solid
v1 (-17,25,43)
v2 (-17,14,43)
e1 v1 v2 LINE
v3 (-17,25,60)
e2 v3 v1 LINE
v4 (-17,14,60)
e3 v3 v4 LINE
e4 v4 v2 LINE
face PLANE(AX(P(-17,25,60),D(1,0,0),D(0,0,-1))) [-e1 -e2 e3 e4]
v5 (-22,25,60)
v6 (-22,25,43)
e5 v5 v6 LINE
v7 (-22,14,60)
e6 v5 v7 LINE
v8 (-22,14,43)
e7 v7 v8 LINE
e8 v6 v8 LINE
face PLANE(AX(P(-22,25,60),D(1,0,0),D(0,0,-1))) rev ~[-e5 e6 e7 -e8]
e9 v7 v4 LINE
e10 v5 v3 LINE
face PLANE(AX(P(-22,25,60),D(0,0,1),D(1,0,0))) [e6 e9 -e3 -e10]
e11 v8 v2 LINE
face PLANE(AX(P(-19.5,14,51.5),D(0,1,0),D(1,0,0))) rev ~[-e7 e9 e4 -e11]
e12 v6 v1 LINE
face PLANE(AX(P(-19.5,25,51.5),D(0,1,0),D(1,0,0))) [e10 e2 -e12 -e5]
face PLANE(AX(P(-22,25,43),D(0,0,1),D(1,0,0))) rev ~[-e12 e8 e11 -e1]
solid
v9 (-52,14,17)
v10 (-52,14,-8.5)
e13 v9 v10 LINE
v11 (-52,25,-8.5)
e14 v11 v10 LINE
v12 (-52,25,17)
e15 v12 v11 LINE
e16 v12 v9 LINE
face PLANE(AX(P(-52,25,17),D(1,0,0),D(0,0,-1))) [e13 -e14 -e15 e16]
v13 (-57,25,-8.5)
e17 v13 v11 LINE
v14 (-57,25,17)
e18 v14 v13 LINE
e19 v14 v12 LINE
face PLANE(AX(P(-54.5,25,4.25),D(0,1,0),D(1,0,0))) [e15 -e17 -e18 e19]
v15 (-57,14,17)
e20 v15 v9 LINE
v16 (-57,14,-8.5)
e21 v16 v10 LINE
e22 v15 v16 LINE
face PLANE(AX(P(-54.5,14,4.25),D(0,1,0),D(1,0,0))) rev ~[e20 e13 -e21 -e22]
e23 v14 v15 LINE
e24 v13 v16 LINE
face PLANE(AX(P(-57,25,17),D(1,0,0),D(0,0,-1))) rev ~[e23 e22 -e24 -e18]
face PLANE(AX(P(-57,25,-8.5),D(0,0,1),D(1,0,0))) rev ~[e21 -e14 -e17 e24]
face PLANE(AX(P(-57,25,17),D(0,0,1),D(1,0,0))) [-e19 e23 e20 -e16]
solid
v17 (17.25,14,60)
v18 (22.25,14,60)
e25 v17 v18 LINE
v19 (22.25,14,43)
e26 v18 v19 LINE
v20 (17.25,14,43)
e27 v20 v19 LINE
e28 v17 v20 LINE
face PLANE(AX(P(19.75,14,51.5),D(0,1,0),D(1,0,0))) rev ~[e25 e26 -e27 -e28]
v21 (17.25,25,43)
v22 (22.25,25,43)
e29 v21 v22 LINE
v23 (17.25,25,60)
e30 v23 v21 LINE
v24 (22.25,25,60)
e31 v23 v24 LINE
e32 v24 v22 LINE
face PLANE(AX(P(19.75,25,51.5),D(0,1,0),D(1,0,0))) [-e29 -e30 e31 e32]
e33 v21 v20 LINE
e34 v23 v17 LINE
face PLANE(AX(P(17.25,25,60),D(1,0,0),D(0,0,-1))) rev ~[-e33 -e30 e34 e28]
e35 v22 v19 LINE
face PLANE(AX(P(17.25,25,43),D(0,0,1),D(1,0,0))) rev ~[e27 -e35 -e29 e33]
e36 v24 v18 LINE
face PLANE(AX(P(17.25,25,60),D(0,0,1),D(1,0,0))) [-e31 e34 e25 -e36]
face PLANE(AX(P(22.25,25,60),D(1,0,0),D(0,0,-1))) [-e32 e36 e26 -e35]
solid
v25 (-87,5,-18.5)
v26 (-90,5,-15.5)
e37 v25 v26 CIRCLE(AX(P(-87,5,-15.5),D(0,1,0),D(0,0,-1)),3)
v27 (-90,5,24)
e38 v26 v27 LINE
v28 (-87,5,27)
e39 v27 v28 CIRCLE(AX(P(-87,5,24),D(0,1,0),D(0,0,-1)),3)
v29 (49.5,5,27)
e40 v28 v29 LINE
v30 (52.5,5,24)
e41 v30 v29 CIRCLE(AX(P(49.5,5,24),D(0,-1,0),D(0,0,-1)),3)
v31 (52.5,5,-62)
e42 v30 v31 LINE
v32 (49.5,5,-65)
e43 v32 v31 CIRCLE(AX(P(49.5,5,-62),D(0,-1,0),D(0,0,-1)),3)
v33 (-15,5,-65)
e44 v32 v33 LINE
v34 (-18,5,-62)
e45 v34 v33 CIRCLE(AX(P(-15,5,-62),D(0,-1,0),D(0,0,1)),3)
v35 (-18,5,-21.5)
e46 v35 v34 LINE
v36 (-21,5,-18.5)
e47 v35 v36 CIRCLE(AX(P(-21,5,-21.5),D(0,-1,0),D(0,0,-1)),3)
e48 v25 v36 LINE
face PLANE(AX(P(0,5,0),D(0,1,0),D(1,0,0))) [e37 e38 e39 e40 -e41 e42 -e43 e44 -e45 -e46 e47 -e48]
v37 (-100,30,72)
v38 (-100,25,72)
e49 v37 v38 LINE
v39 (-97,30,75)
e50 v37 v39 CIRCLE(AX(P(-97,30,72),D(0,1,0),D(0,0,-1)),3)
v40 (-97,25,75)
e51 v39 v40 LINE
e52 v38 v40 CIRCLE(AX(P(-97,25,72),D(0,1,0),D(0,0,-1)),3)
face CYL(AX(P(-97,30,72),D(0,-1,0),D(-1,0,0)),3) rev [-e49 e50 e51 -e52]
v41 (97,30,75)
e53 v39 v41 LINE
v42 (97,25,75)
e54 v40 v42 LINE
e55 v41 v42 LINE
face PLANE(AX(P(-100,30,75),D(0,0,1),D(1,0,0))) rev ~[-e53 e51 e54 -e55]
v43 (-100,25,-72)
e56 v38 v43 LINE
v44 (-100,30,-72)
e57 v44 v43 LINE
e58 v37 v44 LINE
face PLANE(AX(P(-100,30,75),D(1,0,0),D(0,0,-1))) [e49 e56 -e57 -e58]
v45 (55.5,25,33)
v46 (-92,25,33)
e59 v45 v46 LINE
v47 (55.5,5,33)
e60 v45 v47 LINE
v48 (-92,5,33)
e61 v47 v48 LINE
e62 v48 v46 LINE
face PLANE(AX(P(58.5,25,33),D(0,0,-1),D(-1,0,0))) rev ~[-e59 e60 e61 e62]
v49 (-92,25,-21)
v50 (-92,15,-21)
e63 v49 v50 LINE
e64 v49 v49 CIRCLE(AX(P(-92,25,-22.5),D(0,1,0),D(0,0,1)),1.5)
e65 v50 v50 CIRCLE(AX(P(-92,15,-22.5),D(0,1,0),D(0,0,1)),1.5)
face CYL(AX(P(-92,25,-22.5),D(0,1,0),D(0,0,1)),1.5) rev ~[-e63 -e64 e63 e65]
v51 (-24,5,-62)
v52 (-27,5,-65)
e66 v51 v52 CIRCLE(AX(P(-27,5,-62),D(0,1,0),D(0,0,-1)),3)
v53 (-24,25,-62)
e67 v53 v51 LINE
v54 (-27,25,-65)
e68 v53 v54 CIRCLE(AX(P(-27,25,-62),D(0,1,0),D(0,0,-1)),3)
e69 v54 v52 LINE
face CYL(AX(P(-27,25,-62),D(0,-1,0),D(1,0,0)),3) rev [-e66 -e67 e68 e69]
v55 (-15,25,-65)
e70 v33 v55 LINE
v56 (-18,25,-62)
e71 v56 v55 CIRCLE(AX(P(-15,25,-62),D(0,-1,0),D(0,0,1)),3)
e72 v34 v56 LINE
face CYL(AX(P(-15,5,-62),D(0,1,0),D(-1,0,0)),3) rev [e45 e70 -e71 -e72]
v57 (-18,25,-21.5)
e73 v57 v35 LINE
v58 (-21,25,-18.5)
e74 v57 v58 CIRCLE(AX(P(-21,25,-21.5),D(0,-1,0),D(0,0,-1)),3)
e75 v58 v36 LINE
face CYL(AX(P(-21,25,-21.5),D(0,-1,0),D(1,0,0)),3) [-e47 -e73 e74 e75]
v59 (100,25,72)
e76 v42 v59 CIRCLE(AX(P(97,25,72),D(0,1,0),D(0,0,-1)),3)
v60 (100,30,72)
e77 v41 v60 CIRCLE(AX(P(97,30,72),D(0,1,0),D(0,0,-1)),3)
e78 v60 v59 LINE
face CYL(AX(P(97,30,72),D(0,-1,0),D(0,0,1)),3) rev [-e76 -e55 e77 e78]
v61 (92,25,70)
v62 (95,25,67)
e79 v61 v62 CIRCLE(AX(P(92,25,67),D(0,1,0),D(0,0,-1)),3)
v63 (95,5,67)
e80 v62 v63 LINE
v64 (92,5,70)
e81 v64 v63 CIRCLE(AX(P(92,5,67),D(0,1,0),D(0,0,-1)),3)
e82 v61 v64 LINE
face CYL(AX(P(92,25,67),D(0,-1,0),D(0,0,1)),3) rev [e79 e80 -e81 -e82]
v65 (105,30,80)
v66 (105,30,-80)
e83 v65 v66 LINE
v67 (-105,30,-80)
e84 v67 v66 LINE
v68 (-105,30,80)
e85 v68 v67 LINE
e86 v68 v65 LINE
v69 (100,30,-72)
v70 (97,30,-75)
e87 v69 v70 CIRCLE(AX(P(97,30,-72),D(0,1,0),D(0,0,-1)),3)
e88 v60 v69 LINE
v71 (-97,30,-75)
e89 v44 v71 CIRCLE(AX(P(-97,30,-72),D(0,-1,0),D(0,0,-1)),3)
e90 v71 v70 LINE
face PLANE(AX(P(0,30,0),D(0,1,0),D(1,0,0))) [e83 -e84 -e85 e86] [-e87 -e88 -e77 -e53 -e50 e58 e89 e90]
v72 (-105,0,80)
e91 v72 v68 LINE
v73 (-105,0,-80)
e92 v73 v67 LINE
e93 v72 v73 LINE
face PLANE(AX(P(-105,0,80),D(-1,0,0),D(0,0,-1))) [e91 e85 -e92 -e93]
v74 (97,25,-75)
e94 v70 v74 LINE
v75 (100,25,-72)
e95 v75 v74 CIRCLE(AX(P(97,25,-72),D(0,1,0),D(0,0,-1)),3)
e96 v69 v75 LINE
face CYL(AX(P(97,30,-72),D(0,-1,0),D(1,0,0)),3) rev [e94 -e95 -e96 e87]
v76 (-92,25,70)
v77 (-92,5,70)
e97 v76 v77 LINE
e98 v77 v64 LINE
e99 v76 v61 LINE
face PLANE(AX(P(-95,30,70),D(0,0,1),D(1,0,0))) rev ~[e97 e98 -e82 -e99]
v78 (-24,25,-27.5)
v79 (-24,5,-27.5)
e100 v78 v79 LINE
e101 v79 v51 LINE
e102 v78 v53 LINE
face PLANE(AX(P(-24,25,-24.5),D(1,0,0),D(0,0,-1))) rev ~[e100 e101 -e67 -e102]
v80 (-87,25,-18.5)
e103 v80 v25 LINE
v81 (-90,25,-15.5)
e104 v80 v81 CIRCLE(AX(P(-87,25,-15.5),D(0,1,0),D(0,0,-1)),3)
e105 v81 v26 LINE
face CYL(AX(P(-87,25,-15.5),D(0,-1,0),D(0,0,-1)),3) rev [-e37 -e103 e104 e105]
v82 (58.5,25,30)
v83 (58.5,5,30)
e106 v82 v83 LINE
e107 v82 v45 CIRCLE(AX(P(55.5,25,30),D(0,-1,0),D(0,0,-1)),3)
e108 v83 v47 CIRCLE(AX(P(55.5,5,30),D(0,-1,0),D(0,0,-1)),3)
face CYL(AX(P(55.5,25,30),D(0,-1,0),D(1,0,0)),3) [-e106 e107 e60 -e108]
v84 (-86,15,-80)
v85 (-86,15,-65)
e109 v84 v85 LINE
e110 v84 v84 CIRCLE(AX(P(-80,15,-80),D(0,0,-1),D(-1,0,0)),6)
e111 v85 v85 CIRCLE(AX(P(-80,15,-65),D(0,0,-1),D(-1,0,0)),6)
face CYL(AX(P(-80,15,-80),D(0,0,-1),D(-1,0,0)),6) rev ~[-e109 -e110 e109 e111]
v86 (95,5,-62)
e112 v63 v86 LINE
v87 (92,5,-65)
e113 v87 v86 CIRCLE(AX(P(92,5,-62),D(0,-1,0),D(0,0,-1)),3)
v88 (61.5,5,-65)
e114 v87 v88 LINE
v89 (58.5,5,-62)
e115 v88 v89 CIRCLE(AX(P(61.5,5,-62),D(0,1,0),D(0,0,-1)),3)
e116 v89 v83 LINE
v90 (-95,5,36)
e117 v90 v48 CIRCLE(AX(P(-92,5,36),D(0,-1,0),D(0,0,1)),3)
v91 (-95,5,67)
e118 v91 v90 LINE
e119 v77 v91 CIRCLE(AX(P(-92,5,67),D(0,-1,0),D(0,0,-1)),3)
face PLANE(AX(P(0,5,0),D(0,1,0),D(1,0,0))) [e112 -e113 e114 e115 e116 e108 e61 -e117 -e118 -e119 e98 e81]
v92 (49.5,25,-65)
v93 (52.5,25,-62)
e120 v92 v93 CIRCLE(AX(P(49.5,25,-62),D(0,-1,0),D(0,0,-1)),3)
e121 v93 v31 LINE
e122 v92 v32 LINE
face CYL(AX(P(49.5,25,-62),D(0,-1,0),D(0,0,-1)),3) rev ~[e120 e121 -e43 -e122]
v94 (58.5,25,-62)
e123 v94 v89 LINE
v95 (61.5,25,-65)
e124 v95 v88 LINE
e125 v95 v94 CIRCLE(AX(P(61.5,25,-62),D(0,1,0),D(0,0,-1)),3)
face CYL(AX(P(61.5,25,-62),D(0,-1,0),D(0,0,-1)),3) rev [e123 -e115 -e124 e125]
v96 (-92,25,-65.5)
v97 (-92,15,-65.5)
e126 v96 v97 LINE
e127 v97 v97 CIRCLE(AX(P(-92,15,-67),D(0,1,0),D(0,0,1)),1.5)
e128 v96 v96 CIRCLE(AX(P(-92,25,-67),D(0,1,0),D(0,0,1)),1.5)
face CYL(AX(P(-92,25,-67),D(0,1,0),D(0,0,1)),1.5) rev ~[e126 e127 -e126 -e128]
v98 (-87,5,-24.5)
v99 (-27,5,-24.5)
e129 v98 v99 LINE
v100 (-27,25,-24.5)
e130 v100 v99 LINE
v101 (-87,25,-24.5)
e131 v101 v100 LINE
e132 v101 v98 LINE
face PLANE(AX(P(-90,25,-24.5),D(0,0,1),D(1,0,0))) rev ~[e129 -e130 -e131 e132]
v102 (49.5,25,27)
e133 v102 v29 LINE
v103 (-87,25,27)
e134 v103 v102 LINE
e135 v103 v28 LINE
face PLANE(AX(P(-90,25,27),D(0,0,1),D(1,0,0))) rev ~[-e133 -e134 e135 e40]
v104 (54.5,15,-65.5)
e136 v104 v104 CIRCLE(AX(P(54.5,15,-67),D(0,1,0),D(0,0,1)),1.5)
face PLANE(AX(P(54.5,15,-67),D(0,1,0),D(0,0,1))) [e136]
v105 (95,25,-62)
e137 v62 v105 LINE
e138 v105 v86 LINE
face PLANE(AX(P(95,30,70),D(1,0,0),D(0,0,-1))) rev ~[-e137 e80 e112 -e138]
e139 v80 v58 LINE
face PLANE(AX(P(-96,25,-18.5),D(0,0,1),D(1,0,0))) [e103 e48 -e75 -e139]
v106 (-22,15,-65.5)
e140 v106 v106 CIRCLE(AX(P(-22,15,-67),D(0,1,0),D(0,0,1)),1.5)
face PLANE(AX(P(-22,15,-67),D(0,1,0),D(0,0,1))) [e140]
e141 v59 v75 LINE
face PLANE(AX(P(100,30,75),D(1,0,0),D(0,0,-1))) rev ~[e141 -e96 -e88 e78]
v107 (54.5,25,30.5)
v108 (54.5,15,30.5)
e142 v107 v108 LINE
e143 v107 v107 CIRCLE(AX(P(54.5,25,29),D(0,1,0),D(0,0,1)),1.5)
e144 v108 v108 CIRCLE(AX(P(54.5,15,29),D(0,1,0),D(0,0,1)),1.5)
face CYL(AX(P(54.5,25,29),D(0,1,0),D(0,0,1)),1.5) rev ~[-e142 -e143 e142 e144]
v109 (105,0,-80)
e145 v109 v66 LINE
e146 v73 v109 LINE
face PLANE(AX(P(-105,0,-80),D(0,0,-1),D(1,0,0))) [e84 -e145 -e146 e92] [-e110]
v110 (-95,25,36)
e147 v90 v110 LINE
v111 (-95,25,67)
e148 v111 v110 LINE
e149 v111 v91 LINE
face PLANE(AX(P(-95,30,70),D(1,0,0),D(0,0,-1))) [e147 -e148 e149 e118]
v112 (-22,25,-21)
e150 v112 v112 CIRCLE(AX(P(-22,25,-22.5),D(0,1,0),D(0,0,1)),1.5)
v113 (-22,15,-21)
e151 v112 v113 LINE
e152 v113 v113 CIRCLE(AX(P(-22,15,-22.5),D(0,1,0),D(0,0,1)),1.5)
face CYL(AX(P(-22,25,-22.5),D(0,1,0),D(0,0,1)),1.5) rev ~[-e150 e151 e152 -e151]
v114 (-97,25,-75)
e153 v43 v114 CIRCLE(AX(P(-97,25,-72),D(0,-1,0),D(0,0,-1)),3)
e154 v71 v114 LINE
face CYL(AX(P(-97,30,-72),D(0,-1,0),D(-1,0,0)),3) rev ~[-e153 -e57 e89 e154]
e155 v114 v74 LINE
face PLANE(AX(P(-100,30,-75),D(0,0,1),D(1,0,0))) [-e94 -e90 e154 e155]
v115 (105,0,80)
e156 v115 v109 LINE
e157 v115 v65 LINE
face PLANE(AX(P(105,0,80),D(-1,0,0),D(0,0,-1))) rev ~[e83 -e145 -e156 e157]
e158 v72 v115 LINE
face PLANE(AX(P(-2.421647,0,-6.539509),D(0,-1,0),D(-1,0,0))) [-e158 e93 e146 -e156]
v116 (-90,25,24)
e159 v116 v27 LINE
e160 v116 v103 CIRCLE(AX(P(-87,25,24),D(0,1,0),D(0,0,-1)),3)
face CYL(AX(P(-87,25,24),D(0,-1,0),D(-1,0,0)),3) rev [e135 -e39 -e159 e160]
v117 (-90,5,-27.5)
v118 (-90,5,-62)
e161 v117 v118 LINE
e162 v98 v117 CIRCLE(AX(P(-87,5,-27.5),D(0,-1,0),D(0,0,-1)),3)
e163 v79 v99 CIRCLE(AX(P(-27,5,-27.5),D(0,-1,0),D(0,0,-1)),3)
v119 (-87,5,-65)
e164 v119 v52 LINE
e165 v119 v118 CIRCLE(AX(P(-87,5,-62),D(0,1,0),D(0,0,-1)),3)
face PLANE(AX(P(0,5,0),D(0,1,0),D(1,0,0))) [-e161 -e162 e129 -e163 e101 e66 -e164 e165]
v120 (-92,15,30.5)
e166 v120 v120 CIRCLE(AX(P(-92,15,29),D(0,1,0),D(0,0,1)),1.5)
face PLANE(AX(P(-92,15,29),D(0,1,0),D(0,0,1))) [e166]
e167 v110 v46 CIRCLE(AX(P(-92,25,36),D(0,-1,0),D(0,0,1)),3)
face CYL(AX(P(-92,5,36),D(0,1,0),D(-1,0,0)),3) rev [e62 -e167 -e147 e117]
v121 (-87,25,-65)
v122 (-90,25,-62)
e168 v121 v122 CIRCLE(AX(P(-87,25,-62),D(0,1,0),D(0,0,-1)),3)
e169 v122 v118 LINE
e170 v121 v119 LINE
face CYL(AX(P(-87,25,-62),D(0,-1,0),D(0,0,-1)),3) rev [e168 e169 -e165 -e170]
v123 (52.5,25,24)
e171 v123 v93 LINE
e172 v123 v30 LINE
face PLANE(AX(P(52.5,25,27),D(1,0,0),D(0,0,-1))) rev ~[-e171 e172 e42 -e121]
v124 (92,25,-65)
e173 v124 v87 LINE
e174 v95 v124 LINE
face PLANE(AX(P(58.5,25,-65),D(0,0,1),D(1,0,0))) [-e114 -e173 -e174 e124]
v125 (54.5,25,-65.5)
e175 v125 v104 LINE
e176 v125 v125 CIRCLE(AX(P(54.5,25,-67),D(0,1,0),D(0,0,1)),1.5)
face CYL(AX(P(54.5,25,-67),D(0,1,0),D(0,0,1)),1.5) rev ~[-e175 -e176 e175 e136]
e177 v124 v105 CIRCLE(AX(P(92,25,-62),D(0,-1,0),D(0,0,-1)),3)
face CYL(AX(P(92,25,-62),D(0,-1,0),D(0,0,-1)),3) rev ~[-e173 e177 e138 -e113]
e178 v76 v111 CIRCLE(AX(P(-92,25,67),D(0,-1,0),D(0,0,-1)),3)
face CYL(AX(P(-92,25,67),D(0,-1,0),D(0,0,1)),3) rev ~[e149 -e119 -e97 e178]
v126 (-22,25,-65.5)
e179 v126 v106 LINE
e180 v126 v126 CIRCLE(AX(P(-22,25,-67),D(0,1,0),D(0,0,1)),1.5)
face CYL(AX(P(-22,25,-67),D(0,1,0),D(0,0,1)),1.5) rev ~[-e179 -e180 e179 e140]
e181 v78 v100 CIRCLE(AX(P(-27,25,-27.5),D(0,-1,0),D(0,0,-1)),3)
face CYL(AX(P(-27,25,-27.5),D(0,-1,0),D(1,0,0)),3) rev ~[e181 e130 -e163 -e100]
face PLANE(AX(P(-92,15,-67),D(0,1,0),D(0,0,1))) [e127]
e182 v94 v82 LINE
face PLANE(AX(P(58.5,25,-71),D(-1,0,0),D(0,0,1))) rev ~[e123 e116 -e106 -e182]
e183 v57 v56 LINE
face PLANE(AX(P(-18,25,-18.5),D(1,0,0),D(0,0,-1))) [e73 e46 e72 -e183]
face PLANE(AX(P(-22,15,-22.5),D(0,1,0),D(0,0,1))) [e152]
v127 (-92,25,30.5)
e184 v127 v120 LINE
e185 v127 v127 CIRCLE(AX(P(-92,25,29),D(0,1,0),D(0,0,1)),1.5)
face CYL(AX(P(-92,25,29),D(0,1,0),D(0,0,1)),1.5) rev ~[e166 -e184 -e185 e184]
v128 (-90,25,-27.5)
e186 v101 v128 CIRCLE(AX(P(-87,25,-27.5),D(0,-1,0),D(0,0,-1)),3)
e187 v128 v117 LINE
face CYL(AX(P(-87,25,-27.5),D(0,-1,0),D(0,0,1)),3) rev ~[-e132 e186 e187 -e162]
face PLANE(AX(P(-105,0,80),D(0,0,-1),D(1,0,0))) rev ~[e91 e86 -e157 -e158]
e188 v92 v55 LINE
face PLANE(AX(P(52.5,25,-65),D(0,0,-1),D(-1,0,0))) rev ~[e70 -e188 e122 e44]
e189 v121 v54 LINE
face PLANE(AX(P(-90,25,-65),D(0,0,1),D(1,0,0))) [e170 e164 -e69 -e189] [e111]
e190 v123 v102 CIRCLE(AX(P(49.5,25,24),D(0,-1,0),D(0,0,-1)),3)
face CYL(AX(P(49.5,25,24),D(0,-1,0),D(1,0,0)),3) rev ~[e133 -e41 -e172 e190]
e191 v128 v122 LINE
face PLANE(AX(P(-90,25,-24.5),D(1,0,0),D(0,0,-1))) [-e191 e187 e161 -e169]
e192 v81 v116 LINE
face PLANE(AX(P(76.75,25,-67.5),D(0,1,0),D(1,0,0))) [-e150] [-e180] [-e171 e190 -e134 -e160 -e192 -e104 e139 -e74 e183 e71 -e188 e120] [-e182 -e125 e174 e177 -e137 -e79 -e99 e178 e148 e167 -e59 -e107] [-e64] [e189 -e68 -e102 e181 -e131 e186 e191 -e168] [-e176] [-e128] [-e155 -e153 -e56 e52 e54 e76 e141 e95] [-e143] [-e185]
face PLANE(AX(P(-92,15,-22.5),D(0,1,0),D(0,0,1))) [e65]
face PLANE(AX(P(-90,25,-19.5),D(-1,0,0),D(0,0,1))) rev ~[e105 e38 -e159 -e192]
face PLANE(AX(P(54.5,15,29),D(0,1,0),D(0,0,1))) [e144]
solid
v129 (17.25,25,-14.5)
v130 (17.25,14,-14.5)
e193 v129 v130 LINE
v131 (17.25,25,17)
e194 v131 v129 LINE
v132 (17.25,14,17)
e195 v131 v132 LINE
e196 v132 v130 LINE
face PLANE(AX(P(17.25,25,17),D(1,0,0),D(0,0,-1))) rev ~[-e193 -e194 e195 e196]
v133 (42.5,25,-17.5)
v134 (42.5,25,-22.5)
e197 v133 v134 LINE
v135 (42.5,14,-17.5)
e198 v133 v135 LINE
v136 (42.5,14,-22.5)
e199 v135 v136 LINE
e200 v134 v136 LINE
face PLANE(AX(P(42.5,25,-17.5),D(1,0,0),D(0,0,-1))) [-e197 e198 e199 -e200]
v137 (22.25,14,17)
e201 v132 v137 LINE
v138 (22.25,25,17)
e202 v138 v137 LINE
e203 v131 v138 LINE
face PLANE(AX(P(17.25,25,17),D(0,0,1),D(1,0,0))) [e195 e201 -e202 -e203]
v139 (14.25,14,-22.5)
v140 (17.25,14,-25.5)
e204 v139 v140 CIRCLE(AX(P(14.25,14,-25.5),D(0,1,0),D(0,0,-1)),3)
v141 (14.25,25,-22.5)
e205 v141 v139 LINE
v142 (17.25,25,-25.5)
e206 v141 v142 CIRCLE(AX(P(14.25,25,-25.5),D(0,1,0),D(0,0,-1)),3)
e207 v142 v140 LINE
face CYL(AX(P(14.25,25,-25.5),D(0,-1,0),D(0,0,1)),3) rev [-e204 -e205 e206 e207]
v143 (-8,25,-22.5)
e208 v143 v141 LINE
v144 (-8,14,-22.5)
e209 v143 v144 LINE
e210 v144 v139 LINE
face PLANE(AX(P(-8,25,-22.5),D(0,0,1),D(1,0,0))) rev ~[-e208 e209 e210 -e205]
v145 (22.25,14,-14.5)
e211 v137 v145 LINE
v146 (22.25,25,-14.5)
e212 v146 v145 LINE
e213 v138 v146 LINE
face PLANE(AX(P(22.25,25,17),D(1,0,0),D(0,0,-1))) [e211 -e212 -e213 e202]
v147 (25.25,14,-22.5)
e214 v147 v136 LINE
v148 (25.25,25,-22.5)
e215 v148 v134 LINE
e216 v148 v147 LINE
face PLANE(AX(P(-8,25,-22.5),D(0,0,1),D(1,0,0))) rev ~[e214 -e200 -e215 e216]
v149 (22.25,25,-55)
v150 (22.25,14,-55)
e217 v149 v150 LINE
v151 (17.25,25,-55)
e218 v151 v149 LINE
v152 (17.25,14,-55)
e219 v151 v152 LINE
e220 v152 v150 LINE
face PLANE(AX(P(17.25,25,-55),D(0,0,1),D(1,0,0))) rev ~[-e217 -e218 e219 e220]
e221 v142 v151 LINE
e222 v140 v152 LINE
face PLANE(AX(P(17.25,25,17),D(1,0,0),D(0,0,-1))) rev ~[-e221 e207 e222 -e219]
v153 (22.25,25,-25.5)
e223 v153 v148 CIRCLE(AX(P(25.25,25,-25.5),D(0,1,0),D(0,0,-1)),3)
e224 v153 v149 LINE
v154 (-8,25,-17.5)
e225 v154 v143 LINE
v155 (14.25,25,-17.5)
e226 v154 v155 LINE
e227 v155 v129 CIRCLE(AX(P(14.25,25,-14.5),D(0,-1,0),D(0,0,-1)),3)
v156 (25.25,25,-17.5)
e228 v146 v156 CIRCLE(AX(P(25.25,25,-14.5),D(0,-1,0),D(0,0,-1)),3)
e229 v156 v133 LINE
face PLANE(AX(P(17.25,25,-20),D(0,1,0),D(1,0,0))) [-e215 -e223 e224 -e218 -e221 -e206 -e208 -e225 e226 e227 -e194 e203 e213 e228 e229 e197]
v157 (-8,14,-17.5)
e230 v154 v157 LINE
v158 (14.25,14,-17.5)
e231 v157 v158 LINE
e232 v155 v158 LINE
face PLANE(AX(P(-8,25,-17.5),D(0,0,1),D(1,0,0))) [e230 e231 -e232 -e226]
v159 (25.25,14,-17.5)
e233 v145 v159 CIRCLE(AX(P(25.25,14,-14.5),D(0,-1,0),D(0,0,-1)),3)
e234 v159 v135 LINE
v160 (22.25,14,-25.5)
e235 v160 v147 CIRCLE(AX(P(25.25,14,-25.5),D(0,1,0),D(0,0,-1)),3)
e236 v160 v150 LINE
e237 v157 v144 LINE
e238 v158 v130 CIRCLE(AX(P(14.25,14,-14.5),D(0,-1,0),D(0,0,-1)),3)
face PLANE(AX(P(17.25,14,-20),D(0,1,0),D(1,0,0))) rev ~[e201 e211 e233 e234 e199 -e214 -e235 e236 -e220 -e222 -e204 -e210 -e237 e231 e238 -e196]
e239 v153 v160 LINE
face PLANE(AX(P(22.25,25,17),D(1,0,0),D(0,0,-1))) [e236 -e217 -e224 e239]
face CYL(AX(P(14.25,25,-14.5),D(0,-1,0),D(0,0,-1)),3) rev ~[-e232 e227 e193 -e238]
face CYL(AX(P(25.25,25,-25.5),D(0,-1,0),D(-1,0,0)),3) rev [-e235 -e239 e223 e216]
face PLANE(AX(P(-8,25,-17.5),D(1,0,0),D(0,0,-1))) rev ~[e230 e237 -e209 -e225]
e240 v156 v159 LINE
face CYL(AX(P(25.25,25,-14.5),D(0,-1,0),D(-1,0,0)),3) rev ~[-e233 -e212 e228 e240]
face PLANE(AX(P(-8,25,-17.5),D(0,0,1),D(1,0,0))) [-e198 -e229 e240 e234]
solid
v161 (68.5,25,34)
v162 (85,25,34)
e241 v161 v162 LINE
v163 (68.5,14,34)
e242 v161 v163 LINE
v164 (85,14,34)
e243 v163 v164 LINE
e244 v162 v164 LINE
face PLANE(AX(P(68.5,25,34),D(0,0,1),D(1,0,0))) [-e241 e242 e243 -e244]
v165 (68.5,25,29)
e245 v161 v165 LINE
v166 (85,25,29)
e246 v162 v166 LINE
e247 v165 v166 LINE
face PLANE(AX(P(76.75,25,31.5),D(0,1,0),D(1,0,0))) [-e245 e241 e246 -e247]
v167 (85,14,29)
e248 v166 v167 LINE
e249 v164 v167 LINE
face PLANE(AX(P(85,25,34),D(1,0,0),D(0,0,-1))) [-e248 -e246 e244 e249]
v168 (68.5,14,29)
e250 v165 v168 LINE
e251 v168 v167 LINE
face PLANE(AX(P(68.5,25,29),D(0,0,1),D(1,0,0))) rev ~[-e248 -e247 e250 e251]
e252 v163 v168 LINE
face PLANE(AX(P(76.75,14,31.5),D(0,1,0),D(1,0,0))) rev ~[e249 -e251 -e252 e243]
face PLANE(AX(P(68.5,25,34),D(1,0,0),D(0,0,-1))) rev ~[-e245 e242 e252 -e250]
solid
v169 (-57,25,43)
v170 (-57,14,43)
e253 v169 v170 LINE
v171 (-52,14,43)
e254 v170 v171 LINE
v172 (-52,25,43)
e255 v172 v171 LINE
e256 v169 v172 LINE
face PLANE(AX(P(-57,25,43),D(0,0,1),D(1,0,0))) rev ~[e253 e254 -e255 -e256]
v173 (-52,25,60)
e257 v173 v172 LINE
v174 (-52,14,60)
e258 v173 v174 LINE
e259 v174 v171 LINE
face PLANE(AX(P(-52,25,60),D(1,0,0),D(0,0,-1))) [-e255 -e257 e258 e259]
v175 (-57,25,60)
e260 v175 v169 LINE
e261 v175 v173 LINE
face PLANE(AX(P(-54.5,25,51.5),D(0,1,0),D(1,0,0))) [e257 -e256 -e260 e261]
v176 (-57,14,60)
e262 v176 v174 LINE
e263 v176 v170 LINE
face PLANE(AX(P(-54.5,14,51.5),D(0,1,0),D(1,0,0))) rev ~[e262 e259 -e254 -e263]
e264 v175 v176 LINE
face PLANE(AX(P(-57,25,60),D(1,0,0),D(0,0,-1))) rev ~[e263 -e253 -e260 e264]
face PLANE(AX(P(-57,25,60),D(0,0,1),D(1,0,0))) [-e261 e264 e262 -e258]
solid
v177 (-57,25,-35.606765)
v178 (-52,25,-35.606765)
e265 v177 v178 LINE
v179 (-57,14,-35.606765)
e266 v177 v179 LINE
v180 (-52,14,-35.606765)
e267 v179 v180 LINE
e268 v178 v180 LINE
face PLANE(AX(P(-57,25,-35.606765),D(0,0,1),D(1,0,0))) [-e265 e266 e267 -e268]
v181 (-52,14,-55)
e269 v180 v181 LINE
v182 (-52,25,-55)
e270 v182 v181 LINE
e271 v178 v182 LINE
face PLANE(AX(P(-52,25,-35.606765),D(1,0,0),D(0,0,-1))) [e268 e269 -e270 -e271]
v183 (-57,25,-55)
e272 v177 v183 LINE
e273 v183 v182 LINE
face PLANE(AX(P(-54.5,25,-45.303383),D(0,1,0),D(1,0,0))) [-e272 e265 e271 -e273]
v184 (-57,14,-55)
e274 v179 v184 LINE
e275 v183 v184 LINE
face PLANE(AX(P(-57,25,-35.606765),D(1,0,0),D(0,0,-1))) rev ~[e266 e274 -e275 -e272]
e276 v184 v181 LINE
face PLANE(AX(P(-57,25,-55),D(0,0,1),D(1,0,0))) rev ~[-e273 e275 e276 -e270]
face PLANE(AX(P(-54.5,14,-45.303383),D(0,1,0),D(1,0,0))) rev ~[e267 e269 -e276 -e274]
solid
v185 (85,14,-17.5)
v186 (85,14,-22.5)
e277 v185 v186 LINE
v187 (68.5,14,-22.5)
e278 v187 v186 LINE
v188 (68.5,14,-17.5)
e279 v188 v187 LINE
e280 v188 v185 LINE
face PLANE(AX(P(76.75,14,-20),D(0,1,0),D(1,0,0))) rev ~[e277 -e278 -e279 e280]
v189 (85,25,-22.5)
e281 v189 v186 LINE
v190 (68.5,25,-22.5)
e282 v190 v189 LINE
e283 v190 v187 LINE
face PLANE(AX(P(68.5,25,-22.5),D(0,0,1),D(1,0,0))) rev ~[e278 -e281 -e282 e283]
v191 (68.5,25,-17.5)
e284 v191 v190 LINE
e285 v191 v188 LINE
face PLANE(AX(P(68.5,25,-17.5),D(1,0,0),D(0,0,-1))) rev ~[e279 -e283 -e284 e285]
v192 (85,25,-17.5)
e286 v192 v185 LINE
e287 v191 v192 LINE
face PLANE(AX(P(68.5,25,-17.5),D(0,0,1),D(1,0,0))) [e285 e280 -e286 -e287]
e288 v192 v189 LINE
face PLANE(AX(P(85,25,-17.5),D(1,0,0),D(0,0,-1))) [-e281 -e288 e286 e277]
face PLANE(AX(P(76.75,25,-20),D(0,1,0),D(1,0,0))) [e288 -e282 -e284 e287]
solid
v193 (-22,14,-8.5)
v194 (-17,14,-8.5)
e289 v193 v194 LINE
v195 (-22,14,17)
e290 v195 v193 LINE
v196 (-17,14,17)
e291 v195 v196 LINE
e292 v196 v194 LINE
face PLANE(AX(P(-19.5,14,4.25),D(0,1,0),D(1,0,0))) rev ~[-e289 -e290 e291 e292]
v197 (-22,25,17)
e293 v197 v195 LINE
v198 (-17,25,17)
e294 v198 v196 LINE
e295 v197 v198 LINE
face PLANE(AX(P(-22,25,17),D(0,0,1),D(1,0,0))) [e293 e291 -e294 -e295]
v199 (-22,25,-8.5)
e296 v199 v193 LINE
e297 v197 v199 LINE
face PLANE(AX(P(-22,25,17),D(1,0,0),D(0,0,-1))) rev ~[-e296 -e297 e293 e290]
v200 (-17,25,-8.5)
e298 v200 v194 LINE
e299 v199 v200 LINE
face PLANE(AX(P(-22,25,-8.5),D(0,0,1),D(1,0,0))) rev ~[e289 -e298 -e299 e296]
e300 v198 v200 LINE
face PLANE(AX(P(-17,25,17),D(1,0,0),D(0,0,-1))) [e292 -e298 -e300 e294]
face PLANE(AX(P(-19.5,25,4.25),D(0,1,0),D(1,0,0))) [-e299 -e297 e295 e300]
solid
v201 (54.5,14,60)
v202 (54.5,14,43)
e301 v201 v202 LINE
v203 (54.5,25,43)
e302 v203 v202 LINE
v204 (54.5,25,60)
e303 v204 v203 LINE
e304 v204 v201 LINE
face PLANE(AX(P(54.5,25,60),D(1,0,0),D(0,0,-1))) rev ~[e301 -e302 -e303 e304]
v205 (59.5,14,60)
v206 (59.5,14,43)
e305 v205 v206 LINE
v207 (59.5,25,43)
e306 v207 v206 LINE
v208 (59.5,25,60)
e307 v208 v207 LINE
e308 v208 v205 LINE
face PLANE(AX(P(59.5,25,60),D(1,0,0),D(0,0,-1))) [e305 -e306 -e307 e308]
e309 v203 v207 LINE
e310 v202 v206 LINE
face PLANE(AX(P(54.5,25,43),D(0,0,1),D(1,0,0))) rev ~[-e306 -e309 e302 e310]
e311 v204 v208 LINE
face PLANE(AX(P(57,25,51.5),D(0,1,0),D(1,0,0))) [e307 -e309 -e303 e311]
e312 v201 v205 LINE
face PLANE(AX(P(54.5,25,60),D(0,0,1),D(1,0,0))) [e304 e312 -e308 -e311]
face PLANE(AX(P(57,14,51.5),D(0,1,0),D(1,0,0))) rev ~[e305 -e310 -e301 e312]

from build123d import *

# Parameters (mm, degrees)
SKETCH1_W             = 210
SKETCH1_H             = 160
BOSS_EXTRUDE1_DEPTH   = 30
SKETCH9_W             = 200
SKETCH9_H             = 150
CUT_EXTRUDE3_DEPTH    = 5
SKETCH3_R             = 1.5
CUT_EXTRUDE1_DEPTH    = 10
SKETCH12_W            = 190
SKETCH12_H            = 140
CUT_EXTRUDE4_DEPTH    = 25
SKETCH13_W            = 78
SKETCH13_H            = 52.5
SKETCH13_W_2          = 66
SKETCH13_H_2          = 40.5
EXTRUDE_THIN1_DEPTH   = 25
EXTRUDE_THIN2_DEPTH   = 25
SKETCH15_R            = 1.5
CUT_EXTRUDE5_DEPTH    = 10
BOSS_EXTRUDE2_REACH   = 136.35
SKETCH16_W            = 36.5
SKETCH16_H            = 5
FILLET1_R             = 3
FILLET2_R             = 3
FILLET3_R             = 3
CUT_EXTRUDE6_REACH    = 195.714
SKETCH17_R            = 6
SKETCH18_W            = 5
SKETCH18_H            = 72
EXTRUDE_THIN3_DEPTH   = 11
SKETCH18_H_2          = 25.5
EXTRUDE_THIN3_2_DEPTH = 11
SKETCH18_H_3          = 17
EXTRUDE_THIN3_3_DEPTH = 11
SKETCH18_H_4          = 19.393234672
EXTRUDE_THIN3_4_DEPTH = 11
EXTRUDE_THIN3_5_DEPTH = 11
EXTRUDE_THIN3_6_DEPTH = 11
EXTRUDE_THIN3_7_DEPTH = 11
EXTRUDE_THIN3_8_DEPTH = 11
SKETCH19_W            = 50.5
SKETCH19_H            = 5
SKETCH19_W_2          = 16.5
EXTRUDE_THIN4_DEPTH   = 11
FILLET4_R             = 3


with BuildPart() as part:
    # Sketch1 → Boss-Extrude1 (new body)
    with BuildSketch(Plane(origin=(0, 0, 0), x_dir=(1, 0, 0), z_dir=(0, 1, 0))):
        Rectangle(SKETCH1_W, SKETCH1_H)
    extrude(amount=BOSS_EXTRUDE1_DEPTH)

    # Sketch9 → Cut-Extrude3 (cut)
    with BuildSketch(Plane(origin=(0, 30, 0), x_dir=(1, 0, 0), z_dir=(0, 1, 0))):
        Rectangle(SKETCH9_W, SKETCH9_H)
    extrude(amount=-CUT_EXTRUDE3_DEPTH, mode=Mode.SUBTRACT)

    # Sketch3 → Cut-Extrude1 (cut)
    with BuildSketch(Plane(origin=(0, 30, 0), x_dir=(1, 0, 0), z_dir=(0, 1, 0))):
        with Locations(Location((-92, 67, 0), (0, 0, 270))):
            Circle(SKETCH3_R)
        with Locations(Location((-22, 67, 0), (0, 0, 270))):
            Circle(SKETCH3_R)
        with Locations(Location((-92, 22.5, 0), (0, 0, 270))):
            Circle(SKETCH3_R)
        with Locations(Location((-22, 22.5, 0), (0, 0, 270))):
            Circle(SKETCH3_R)
    extrude(amount=-CUT_EXTRUDE1_DEPTH, mode=Mode.SUBTRACT)

    # Sketch12 → Cut-Extrude4 (cut)
    with BuildSketch(Plane(origin=(0, 30, 0), x_dir=(1, 0, 0), z_dir=(0, 1, 0))):
        Rectangle(SKETCH12_W, SKETCH12_H)
    extrude(amount=-CUT_EXTRUDE4_DEPTH, mode=Mode.SUBTRACT)

    # Sketch13 → Extrude-Thin1 (add)
    with BuildSketch(Plane(origin=(0, 25, 0), x_dir=(1, 0, 0), z_dir=(0, 1, 0))):
        with Locations((-57, 44.75)):
            Rectangle(SKETCH13_W, SKETCH13_H)
        with Locations((-57, 44.75)):
            Rectangle(SKETCH13_W_2, SKETCH13_H_2, mode=Mode.SUBTRACT)
    extrude(amount=-EXTRUDE_THIN1_DEPTH)

    # Sketch14 → Extrude-Thin2 (add)
    with BuildSketch(Plane(origin=(0, 25, 0), x_dir=(1, 0, 0), z_dir=(0, 1, 0))):
        Polygon((-90, 19.5), (-90, -27), (52.5, -27), (52.5, 65), (-19, 65), (-19, 71), (58.5, 71), (58.5, -33), (-96, -33), (-96, 19.5), align=None)
    extrude(amount=-EXTRUDE_THIN2_DEPTH)

    # Sketch15 → Cut-Extrude5 (cut)
    with BuildSketch(Plane(origin=(0, 25, 0), x_dir=(1, 0, 0), z_dir=(0, 1, 0))):
        with Locations(Location((54.5, 67, 0), (0, 0, 270))):
            Circle(SKETCH15_R)
        with Locations(Location((-92, -29, 0), (0, 0, 270))):
            Circle(SKETCH15_R)
        with Locations(Location((54.5, -29, 0), (0, 0, 270))):
            Circle(SKETCH15_R)
        with Locations(Location((-92, 67, 0), (0, 0, 270))):
            Circle(SKETCH15_R)
        with Locations(Location((-92, 22.5, 0), (0, 0, 270))):
            Circle(SKETCH15_R)
        with Locations(Location((-22, 22.5, 0), (0, 0, 270))):
            Circle(SKETCH15_R)
        with Locations(Location((-22, 67, 0), (0, 0, 270))):
            Circle(SKETCH15_R)
    extrude(amount=-CUT_EXTRUDE5_DEPTH, mode=Mode.SUBTRACT)

    # Sketch16 → Boss-Extrude2 (add, up to next)
    with BuildSketch(Plane(origin=(0, 25, 0), x_dir=(1, 0, 0), z_dir=(0, 1, 0)), mode=Mode.PRIVATE) as boss_extrude2_sk1:
        with Locations((76.75, 67.5)):
            Rectangle(SKETCH16_W, SKETCH16_H)
    boss_extrude2_tool1 = extrude(boss_extrude2_sk1.sketch, amount=-BOSS_EXTRUDE2_REACH, mode=Mode.PRIVATE) - part.part
    add(boss_extrude2_tool1.solids().sort_by_distance((76.75, 25, -67.5))[0])

    # Fillet1
    fillet1_edges = [part.edges().sort_by_distance(p)[0] for p in [
        (-90, 15, -18.5),
        (-18, 15, -65),
        (-95, 15, 33),
        (-90, 15, 27),
        (52.5, 15, 27),
        (52.5, 15, -65),
        (95, 15, -65),
        (58.5, 15, -65),
        (-95, 15, 70),
        (95, 15, 70),
        (-90, 15, -65),
        (-24, 15, -65),
        (-24, 15, -24.5),
        (-90, 15, -24.5),
    ]]
    fillet(fillet1_edges, radius=FILLET1_R)

    # Fillet2
    fillet2_edges = [part.edges().sort_by_distance(p)[0] for p in [
        (58.5, 15, 33),
        (-18, 15, -18.5),
    ]]
    fillet(fillet2_edges, radius=FILLET2_R)

    # Fillet3
    fillet3_edges = [part.edges().sort_by_distance(p)[0] for p in [
        (-100, 27.5, 75),
        (-100, 27.5, -75),
        (100, 27.5, -75),
        (100, 27.5, 75),
    ]]
    fillet(fillet3_edges, radius=FILLET3_R)

    # Sketch17 → Cut-Extrude6 (cut, up to next)
    with BuildSketch(Plane(origin=(0, 0, -80), x_dir=(-1, 0, 0), z_dir=(0, 0, -1)), mode=Mode.PRIVATE) as cut_extrude6_sk1:
        with Locations((80, 15)):
            Circle(SKETCH17_R)
    cut_extrude6_tool1 = extrude(cut_extrude6_sk1.sketch, amount=-CUT_EXTRUDE6_REACH, mode=Mode.PRIVATE) & part.part
    add(cut_extrude6_tool1.solids().sort_by_distance((-80, 15, -80))[0], mode=Mode.SUBTRACT)


with BuildPart() as body_2:
    # Sketch18 → Extrude-Thin3 (new body)
    with BuildSketch(Plane(origin=(0, 25, 0), x_dir=(1, 0, 0), z_dir=(0, 1, 0))):
        with Locations((19.75, 19)):
            Rectangle(SKETCH18_W, SKETCH18_H)
    extrude(amount=-EXTRUDE_THIN3_DEPTH)

    # Sketch19 → Extrude-Thin4 (add)
    with BuildSketch(Plane(origin=(0, 25, 0), x_dir=(1, 0, 0), z_dir=(0, 1, 0))):
        with Locations((17.25, 20)):
            Rectangle(SKETCH19_W, SKETCH19_H)
        with Locations((76.75, 20)):
            Rectangle(SKETCH19_W_2, SKETCH19_H)
        with Locations((76.75, -31.5)):
            Rectangle(SKETCH19_W_2, SKETCH19_H)
    extrude(amount=-EXTRUDE_THIN4_DEPTH)


with BuildPart() as body_3:
    # Sketch18 → Extrude-Thin3 2 (new body)
    with BuildSketch(Plane(origin=(0, 25, 0), x_dir=(1, 0, 0), z_dir=(0, 1, 0))):
        with Locations((-19.5, -4.25)):
            Rectangle(SKETCH18_W, SKETCH18_H_2)
    extrude(amount=-EXTRUDE_THIN3_2_DEPTH)


with BuildPart() as body_4:
    # Sketch18 → Extrude-Thin3 3 (new body)
    with BuildSketch(Plane(origin=(0, 25, 0), x_dir=(1, 0, 0), z_dir=(0, 1, 0))):
        with Locations((57, -51.5)):
            Rectangle(SKETCH18_W, SKETCH18_H_3)
    extrude(amount=-EXTRUDE_THIN3_3_DEPTH)


with BuildPart() as body_5:
    # Sketch18 → Extrude-Thin3 4 (new body)
    with BuildSketch(Plane(origin=(0, 25, 0), x_dir=(1, 0, 0), z_dir=(0, 1, 0))):
        with Locations((-54.5, 45.303382664)):
            Rectangle(SKETCH18_W, SKETCH18_H_4)
    extrude(amount=-EXTRUDE_THIN3_4_DEPTH)


with BuildPart() as body_6:
    # Sketch18 → Extrude-Thin3 5 (new body)
    with BuildSketch(Plane(origin=(0, 25, 0), x_dir=(1, 0, 0), z_dir=(0, 1, 0))):
        with Locations((-19.5, -51.5)):
            Rectangle(SKETCH18_W, SKETCH18_H_3)
    extrude(amount=-EXTRUDE_THIN3_5_DEPTH)


with BuildPart() as body_7:
    # Sketch18 → Extrude-Thin3 6 (new body)
    with BuildSketch(Plane(origin=(0, 25, 0), x_dir=(1, 0, 0), z_dir=(0, 1, 0))):
        with Locations((19.75, -51.5)):
            Rectangle(SKETCH18_W, SKETCH18_H_3)
    extrude(amount=-EXTRUDE_THIN3_6_DEPTH)


with BuildPart() as body_8:
    # Sketch18 → Extrude-Thin3 7 (new body)
    with BuildSketch(Plane(origin=(0, 25, 0), x_dir=(1, 0, 0), z_dir=(0, 1, 0))):
        with Locations((-54.5, -4.25)):
            Rectangle(SKETCH18_W, SKETCH18_H_2)
    extrude(amount=-EXTRUDE_THIN3_7_DEPTH)


with BuildPart() as body_9:
    # Sketch18 → Extrude-Thin3 8 (new body)
    with BuildSketch(Plane(origin=(0, 25, 0), x_dir=(1, 0, 0), z_dir=(0, 1, 0))):
        with Locations((-54.5, -51.5)):
            Rectangle(SKETCH18_W, SKETCH18_H_3)
    extrude(amount=-EXTRUDE_THIN3_8_DEPTH)


with BuildPart() as extrude_thin4_piece_1:
    # of the separate pieces the step leaves, piece 1, a body of its own (extrude_thin4_pieces)
    add(body_2.part.solids().sort_by_distance((17.25, 25, -55))[0])

    # Fillet4
    fillet4_edges = [extrude_thin4_piece_1.edges().sort_by_distance(p)[0] for p in [
        (22.25, 19.5, -17.5),
        (17.25, 19.5, -22.5),
        (22.25, 19.5, -22.5),
        (17.25, 19.5, -17.5),
    ]]
    fillet(fillet4_edges, radius=FILLET4_R)


with BuildPart() as extrude_thin4_piece_2:
    # of the separate pieces the step leaves, piece 2, a body of its own (extrude_thin4_pieces)
    add(body_2.part.solids().sort_by_distance((68.5, 25, 29))[0])


with BuildPart() as extrude_thin4_piece_3:
    # of the separate pieces the step leaves, piece 3, a body of its own (extrude_thin4_pieces)
    add(body_2.part.solids().sort_by_distance((68.5, 25, -22.5))[0])


solid = Compound([part.part, body_3.part, body_4.part, body_5.part, body_6.part, body_7.part, body_8.part, body_9.part, extrude_thin4_piece_1.part, extrude_thin4_piece_2.part, extrude_thin4_piece_3.part])
